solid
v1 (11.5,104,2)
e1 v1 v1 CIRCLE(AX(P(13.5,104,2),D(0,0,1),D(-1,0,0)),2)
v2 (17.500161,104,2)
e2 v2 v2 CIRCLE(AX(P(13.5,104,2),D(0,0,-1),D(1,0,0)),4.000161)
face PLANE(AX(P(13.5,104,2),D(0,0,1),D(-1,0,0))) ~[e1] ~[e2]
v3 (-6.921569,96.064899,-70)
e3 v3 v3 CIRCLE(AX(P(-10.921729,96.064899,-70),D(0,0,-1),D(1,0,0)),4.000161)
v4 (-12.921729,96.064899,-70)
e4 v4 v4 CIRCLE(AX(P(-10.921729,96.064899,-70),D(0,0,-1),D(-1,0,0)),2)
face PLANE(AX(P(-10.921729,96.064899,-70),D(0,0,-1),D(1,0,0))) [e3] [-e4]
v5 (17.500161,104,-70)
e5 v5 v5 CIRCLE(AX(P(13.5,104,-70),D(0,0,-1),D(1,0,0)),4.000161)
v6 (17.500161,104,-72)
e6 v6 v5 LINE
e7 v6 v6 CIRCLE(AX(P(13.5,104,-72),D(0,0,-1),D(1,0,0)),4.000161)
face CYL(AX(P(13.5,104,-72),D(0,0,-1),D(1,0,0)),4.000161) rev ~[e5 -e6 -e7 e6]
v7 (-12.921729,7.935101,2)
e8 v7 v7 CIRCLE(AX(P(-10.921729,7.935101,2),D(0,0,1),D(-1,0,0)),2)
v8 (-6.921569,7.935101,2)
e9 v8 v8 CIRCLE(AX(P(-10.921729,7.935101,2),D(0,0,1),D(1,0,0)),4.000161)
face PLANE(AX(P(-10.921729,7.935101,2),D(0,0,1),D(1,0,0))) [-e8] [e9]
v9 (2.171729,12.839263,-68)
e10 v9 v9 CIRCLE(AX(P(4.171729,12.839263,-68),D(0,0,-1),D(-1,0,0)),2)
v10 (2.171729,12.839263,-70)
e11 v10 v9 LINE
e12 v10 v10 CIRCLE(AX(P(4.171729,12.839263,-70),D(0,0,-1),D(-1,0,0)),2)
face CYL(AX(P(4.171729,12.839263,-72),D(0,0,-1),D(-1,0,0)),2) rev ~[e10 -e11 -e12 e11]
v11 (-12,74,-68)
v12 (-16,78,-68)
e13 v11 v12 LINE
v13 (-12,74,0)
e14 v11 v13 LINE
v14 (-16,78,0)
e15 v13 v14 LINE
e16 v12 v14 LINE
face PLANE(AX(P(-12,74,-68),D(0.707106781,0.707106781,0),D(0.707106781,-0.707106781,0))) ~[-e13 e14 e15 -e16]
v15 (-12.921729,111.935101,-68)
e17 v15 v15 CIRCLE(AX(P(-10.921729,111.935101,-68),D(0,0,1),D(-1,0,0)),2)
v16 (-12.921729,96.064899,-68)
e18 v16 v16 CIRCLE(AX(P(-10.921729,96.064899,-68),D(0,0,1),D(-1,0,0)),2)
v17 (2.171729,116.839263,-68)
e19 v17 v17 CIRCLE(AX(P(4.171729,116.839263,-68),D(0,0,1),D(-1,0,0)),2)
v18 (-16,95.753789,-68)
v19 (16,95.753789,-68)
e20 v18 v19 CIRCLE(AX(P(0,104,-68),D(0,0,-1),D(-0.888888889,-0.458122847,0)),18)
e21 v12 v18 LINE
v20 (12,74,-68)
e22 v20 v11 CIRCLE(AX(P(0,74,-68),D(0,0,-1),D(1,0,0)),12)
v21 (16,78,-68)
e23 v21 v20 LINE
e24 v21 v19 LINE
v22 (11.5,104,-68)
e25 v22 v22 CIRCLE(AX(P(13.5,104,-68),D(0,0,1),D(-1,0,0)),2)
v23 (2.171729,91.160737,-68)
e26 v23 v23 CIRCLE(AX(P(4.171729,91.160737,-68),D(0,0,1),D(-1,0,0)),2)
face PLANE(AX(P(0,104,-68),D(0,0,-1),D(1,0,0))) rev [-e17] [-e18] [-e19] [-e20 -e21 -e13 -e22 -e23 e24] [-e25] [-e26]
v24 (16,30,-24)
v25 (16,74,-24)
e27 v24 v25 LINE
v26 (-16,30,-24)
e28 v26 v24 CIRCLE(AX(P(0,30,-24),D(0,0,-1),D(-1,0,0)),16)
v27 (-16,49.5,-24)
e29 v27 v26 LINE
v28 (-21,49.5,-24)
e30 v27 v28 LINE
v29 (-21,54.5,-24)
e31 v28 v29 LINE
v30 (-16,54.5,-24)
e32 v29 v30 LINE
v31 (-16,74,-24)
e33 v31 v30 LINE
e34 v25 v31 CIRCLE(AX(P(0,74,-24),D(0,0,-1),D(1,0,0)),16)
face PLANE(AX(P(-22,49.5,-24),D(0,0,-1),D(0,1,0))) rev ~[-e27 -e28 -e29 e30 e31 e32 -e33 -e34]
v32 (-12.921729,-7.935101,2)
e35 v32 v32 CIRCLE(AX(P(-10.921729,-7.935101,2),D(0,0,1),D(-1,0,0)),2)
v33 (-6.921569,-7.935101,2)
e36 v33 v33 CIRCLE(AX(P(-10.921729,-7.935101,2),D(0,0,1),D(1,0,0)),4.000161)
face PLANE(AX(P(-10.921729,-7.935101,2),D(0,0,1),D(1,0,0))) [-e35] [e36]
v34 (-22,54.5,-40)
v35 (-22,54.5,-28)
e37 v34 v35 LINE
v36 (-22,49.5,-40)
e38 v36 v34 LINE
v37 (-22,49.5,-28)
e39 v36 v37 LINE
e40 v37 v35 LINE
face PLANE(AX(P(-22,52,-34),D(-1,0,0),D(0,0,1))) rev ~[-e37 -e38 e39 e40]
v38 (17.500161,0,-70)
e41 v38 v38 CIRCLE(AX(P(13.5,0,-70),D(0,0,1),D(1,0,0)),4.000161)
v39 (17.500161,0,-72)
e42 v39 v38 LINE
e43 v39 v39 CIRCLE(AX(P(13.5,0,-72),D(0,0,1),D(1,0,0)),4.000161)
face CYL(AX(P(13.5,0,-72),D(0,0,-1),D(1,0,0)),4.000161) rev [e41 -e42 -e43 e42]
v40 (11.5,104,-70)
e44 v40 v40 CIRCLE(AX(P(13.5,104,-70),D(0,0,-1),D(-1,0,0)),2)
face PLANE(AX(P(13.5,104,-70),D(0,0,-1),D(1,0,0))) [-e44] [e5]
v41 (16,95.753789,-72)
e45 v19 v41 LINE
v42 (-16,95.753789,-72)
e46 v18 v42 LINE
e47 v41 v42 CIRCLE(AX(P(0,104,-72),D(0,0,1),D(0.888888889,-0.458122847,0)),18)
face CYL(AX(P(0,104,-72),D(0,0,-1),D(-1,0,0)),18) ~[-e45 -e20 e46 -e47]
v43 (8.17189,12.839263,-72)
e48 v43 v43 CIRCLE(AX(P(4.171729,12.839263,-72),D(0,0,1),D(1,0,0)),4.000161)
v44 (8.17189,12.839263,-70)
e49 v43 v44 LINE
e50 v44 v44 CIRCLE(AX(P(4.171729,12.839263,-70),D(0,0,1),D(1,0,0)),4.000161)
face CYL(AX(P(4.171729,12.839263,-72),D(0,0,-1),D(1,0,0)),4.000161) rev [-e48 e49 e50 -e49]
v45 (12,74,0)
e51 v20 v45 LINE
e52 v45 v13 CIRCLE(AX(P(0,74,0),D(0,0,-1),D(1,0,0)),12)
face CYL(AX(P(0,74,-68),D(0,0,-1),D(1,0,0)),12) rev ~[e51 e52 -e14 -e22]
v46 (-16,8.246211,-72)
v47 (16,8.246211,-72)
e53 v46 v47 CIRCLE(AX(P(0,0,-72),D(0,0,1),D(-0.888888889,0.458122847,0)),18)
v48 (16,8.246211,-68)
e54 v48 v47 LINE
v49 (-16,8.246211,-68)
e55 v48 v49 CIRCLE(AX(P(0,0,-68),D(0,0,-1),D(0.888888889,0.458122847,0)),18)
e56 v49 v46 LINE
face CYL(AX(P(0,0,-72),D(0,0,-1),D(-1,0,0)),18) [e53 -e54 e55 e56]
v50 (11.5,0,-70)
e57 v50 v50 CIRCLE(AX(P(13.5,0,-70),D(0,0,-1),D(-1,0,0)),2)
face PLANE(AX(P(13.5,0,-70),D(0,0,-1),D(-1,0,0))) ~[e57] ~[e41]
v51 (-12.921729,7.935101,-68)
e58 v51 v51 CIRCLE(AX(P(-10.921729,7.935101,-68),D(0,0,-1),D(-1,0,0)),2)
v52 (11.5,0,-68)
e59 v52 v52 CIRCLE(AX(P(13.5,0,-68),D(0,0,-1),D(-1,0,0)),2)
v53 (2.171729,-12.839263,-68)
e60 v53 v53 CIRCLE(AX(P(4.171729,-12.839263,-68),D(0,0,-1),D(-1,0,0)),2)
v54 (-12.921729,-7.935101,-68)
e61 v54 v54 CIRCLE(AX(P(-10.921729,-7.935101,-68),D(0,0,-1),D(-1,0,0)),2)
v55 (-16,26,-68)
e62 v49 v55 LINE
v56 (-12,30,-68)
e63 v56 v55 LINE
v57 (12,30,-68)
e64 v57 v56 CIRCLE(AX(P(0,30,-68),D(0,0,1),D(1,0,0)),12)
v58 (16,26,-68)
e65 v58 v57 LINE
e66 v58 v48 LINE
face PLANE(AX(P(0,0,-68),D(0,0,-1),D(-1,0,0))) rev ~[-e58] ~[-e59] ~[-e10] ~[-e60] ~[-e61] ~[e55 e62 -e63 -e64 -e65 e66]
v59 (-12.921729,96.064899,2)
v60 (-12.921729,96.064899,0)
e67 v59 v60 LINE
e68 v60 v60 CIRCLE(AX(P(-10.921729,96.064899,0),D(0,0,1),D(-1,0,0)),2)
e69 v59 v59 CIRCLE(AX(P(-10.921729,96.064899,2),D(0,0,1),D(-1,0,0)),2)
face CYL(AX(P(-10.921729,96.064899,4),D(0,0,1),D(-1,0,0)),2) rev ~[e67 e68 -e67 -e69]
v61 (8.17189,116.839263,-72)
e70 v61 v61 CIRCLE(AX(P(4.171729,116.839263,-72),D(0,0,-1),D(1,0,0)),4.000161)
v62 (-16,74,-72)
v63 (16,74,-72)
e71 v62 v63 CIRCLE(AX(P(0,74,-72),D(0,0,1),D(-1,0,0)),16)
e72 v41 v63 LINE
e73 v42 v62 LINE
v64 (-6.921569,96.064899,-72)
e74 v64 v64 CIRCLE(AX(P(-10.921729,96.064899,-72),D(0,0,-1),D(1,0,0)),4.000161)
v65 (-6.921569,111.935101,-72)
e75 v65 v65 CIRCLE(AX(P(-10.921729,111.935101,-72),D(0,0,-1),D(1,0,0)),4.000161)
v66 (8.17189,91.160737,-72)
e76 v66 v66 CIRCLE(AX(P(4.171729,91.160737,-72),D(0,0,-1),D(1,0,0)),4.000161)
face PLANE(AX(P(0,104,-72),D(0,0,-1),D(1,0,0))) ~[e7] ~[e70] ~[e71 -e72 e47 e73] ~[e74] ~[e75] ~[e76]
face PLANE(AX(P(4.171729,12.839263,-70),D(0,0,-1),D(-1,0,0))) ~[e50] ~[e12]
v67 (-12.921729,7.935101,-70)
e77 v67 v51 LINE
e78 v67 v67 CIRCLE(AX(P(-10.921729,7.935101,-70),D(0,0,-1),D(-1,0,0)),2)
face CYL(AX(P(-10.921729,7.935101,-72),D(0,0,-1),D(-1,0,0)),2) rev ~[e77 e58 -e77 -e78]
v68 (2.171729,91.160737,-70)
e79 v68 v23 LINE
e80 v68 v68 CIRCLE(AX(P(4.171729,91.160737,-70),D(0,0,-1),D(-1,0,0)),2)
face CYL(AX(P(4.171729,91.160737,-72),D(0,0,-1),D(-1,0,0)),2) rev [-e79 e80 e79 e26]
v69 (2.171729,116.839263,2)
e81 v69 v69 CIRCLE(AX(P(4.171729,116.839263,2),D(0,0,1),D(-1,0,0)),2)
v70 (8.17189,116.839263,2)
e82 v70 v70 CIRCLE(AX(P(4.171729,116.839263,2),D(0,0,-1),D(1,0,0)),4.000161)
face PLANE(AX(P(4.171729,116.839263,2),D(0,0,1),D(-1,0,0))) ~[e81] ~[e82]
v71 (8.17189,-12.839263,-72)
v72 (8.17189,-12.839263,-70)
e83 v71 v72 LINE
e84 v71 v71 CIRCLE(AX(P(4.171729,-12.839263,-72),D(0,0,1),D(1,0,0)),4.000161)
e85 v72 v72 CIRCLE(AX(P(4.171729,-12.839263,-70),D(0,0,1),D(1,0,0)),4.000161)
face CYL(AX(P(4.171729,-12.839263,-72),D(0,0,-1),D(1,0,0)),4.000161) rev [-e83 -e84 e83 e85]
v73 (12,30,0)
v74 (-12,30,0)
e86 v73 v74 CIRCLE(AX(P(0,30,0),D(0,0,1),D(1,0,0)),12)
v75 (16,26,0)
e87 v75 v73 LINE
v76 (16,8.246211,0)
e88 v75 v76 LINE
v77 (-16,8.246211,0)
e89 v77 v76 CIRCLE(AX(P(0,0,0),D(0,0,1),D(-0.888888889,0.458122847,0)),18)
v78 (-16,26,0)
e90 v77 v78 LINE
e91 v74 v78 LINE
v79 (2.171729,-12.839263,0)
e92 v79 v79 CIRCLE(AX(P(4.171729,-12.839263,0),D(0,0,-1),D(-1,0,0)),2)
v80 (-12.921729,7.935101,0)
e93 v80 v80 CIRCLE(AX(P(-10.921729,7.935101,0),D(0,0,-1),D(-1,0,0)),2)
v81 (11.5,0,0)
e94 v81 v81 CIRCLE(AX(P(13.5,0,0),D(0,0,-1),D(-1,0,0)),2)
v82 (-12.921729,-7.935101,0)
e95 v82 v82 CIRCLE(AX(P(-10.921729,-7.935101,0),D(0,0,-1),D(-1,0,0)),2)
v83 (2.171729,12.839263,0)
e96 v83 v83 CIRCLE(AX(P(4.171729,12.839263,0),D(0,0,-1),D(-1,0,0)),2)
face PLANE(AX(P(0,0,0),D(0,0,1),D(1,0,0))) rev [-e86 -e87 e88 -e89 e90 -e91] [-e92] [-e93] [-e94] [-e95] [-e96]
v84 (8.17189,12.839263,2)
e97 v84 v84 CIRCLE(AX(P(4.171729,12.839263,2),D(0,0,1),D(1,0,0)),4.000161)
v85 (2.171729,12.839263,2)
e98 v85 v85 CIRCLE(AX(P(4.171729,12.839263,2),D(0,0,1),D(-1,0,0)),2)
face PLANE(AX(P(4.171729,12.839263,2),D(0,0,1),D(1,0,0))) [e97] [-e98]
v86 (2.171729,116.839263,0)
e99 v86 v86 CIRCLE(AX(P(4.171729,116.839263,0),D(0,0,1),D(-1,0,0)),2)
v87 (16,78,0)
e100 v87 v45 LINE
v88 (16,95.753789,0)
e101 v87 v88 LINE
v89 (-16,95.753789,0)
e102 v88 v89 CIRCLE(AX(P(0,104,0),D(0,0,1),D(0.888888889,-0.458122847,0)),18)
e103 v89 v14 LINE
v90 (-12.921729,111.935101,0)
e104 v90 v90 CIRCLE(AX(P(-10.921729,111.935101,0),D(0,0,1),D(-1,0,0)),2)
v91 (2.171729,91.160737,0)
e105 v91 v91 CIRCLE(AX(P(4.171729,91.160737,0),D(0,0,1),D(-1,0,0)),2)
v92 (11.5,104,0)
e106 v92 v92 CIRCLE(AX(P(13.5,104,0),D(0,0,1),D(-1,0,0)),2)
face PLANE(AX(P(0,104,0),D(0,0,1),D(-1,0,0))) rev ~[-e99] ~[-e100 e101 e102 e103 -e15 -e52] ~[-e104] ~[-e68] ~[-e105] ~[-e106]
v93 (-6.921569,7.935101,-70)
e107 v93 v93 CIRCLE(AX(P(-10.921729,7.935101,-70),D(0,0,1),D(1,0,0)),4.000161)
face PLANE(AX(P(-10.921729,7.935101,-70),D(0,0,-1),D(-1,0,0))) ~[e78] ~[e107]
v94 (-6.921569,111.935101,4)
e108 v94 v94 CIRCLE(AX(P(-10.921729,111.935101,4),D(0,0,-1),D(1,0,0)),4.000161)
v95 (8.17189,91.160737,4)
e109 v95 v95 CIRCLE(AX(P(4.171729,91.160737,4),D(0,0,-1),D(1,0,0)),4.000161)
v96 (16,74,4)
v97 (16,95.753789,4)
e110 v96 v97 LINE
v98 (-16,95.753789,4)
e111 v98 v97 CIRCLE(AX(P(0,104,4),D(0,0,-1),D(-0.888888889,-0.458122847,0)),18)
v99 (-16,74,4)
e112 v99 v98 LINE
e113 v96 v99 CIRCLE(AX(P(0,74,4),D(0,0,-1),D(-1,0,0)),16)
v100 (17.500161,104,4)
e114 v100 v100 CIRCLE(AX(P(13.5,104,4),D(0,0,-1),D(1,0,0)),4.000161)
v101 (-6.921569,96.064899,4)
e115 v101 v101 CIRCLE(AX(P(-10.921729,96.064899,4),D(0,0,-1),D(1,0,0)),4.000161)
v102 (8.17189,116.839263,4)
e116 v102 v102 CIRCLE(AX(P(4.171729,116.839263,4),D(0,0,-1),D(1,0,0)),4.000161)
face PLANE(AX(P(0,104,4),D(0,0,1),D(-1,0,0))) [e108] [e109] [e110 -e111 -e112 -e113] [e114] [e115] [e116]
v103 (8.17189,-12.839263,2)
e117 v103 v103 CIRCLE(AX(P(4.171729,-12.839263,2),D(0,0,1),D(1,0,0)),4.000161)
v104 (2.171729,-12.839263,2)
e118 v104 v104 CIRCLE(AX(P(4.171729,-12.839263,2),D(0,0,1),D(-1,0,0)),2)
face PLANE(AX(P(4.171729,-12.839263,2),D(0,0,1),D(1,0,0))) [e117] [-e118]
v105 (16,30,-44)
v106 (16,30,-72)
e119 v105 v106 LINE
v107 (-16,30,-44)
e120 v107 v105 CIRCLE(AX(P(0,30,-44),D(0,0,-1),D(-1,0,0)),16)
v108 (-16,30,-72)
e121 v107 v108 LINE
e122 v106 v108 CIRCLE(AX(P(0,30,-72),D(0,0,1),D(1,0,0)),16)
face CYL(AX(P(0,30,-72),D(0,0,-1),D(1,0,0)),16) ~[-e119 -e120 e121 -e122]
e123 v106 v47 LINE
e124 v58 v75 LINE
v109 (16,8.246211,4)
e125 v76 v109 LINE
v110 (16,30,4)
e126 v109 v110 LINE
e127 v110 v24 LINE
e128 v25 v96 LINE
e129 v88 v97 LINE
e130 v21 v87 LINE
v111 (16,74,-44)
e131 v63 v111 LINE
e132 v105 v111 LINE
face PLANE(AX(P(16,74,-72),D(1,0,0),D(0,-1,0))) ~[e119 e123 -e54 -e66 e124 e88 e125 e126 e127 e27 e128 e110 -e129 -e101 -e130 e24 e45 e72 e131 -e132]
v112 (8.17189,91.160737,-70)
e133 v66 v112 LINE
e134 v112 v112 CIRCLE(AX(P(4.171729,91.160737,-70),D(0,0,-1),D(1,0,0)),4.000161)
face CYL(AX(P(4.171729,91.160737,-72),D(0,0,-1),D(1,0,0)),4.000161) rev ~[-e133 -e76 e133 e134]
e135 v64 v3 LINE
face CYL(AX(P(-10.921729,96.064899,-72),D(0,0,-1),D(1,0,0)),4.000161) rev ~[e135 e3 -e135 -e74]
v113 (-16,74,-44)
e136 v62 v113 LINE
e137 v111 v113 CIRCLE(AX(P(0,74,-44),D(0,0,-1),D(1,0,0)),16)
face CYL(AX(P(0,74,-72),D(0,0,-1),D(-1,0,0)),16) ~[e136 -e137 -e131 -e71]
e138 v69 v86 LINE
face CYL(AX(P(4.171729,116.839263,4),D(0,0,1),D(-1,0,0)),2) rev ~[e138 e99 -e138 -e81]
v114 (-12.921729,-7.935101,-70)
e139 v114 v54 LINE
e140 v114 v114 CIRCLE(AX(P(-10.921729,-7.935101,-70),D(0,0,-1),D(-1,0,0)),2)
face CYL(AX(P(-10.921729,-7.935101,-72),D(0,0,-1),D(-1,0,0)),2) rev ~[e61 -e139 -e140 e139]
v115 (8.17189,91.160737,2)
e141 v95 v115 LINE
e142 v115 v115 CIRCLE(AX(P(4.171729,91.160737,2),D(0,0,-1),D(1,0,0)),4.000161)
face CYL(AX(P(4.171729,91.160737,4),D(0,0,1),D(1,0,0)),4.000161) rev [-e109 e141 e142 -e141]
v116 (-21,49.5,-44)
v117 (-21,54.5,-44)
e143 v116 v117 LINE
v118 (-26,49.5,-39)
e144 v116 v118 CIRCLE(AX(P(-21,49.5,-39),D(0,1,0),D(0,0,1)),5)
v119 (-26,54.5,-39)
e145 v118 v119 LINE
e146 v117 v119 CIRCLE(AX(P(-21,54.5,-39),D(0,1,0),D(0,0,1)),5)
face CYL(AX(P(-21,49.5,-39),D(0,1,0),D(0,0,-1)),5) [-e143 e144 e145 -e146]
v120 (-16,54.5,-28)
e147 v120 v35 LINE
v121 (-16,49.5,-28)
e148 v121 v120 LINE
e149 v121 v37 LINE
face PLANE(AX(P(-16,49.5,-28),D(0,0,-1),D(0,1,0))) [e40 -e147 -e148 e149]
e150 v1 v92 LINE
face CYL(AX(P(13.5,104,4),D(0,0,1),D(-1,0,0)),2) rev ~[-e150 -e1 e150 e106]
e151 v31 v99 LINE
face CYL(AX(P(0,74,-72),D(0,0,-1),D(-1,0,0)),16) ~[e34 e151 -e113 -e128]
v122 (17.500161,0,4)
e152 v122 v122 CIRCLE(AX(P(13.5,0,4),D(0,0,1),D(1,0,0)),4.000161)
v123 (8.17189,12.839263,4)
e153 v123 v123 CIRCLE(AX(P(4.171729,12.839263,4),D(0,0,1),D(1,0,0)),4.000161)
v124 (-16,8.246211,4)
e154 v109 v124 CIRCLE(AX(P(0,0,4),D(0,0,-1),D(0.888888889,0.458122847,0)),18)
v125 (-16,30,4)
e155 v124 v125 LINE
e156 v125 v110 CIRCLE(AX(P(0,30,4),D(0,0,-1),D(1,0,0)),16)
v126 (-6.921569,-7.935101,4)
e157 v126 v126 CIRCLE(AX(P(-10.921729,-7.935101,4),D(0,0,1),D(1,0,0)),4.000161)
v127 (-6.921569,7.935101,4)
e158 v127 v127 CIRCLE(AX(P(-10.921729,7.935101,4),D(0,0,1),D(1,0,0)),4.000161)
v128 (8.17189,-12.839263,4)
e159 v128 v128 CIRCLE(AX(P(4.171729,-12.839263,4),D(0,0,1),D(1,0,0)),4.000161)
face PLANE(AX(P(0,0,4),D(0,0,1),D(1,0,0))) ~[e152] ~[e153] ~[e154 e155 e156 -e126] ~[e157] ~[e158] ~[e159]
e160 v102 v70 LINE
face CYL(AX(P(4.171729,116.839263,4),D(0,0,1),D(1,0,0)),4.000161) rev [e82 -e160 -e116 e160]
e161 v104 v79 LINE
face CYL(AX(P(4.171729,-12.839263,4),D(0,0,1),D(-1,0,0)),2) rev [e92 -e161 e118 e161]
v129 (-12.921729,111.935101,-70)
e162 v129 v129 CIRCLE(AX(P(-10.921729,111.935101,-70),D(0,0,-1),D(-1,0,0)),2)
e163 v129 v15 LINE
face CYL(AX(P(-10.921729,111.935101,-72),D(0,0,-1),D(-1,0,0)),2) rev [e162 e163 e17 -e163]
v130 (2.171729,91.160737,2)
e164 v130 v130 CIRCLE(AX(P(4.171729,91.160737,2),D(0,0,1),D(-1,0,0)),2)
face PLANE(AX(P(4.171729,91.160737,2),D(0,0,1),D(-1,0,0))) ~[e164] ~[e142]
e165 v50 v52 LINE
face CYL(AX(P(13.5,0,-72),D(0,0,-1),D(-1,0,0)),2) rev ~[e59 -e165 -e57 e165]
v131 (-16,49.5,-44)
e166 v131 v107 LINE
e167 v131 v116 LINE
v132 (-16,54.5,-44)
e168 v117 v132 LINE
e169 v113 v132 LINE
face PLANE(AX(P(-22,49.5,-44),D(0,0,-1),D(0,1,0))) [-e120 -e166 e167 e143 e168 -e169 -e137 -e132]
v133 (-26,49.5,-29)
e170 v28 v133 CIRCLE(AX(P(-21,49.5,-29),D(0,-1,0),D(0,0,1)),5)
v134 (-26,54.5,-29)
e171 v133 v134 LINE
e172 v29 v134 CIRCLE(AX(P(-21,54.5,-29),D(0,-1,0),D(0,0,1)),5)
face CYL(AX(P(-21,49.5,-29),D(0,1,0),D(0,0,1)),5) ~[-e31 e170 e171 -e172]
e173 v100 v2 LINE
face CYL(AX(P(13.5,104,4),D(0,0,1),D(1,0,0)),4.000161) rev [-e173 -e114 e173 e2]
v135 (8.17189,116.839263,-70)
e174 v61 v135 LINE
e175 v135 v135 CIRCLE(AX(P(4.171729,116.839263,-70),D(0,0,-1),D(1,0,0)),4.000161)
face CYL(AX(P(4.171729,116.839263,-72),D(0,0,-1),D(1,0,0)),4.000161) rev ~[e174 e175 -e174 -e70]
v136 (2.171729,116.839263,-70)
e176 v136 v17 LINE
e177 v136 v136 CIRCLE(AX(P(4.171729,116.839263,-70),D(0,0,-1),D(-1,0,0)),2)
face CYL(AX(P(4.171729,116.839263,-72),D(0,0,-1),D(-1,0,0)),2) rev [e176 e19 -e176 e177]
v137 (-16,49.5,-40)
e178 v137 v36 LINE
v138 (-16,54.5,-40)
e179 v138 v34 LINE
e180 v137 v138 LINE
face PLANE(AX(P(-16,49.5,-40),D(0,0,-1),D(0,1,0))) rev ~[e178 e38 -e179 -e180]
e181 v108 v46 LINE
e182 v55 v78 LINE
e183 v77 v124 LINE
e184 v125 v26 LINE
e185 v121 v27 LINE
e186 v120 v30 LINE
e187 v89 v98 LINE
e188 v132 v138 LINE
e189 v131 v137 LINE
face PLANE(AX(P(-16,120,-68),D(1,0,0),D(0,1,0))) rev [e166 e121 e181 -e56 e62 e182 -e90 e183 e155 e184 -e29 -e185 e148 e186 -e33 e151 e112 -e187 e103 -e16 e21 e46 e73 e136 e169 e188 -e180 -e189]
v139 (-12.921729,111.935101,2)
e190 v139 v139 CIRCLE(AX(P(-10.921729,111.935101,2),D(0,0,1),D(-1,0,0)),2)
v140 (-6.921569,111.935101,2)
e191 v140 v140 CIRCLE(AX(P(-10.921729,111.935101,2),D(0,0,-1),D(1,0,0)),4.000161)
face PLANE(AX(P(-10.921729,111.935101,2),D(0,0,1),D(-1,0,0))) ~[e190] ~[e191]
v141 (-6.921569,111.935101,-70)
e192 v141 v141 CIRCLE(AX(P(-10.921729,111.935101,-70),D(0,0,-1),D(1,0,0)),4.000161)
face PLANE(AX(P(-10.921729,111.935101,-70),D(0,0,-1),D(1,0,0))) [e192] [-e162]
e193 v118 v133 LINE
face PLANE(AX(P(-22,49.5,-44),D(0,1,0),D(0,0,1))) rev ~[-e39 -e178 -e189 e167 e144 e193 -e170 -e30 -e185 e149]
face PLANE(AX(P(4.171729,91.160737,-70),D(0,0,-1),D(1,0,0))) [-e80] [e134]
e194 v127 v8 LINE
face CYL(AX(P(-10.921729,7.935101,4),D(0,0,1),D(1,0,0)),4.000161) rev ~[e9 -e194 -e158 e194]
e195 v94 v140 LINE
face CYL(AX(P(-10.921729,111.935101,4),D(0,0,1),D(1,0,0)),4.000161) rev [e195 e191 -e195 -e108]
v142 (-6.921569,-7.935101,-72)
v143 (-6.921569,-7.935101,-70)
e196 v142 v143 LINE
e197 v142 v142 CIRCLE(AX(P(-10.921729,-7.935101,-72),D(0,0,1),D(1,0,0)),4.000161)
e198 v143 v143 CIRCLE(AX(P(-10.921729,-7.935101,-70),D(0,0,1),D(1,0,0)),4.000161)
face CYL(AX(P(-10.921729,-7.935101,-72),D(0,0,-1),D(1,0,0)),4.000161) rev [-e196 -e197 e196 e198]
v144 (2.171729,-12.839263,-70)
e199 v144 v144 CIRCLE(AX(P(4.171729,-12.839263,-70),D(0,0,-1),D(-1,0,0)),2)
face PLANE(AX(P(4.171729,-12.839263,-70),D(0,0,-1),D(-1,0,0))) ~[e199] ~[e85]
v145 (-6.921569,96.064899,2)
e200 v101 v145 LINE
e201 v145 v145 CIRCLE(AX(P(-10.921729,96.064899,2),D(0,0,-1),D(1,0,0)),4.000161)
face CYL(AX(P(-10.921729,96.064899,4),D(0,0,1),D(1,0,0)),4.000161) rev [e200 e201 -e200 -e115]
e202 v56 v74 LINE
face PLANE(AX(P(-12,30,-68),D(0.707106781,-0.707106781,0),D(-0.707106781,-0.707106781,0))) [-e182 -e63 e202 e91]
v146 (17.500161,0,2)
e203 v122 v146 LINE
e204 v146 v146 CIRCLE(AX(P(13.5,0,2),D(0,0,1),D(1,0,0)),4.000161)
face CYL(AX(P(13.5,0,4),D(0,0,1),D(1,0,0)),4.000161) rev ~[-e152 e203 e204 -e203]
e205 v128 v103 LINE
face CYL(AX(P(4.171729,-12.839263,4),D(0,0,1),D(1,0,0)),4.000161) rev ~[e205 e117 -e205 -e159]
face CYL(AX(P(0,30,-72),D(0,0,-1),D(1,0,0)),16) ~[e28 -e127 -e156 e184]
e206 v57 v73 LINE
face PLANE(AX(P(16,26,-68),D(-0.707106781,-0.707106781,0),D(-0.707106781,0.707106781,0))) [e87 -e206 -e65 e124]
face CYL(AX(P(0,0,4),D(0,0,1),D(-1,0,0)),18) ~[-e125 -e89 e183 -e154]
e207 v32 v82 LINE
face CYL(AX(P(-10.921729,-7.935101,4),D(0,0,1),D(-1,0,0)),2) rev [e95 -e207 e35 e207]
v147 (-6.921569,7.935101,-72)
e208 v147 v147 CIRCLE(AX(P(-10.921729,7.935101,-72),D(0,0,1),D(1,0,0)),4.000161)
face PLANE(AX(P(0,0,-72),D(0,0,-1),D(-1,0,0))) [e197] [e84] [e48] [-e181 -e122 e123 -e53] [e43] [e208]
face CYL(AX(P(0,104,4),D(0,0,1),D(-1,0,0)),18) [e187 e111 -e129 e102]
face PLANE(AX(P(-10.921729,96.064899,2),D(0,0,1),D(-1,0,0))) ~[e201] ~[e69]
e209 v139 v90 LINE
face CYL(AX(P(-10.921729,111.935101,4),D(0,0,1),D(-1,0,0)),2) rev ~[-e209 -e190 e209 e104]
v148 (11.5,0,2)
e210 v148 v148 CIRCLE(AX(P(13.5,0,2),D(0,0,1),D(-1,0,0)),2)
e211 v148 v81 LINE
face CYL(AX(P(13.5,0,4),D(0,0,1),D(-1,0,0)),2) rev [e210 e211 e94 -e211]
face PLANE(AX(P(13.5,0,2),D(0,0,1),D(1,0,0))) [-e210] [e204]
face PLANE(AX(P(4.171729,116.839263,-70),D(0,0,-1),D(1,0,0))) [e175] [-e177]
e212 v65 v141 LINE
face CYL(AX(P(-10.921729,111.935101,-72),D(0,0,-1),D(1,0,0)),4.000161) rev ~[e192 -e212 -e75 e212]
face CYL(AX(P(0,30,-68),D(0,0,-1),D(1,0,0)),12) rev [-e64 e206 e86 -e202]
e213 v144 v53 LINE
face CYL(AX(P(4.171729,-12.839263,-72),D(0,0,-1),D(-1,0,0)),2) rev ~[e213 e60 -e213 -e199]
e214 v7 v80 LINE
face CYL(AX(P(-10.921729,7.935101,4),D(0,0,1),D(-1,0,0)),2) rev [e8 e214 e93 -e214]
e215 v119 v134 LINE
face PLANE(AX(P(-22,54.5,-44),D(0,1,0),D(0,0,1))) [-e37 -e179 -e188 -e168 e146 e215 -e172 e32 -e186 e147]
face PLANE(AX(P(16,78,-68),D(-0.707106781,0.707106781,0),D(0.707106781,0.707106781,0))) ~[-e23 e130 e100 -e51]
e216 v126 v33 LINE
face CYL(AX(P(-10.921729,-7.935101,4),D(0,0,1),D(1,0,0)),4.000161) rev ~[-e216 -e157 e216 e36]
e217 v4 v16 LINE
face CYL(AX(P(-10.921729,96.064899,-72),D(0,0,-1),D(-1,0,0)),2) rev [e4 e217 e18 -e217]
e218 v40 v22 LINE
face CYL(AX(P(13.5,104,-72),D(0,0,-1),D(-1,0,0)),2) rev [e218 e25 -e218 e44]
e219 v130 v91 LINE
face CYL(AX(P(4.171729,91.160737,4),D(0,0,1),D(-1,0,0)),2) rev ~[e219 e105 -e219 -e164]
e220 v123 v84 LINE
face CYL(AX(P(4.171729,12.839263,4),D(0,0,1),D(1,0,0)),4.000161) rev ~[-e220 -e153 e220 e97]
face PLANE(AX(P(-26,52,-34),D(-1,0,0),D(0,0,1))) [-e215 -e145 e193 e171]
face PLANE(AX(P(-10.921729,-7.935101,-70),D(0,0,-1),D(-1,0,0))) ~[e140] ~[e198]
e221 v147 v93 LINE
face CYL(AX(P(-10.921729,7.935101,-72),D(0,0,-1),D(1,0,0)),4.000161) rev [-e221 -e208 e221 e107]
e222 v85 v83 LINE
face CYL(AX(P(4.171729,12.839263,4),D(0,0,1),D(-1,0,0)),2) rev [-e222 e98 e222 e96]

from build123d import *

# Parameters (mm, degrees)
BOSS_EXTRUDE2_DEPTH       = 4
BOSS_EXTRUDE3_START       = 68
BOSS_EXTRUDE3_DEPTH       = 68
BOSS_EXTRUDE4_START       = 4
BOSS_EXTRUDE4_DEPTH       = 4
BOSS_EXTRUDE5_START       = -4
BOSS_EXTRUDE5_DEPTH       = 4
CUT_EXTRUDE1_REACH        = 144.941
CUT_EXTRUDE2_DEPTH        = 143.940547082
BOSS_EXTRUDE7_DEPTH       = 10
BOSS_EXTRUDE7_DEPTH_BACK  = 10
SKETCH10_R                = 2
CUT_EXTRUDE3_DEPTH        = 4
SKETCH11_R                = 18
SKETCH11_R_2              = 16
BOSS_EXTRUDE8_DEPTH       = 4
MIRROR6_COPY_1_SKETCH_R   = 2
MIRROR6_COPY_1_DEPTH      = 4
MIRROR6_COPY_2_SKETCH_R   = 18
MIRROR6_COPY_2_SKETCH_R_2 = 16
MIRROR6_COPY_2_DEPTH      = 4
SKETCH12_R                = 4.000160783
SKETCH12_R_2              = 2
CUT_EXTRUDE5_DEPTH        = 2
MIRROR8_COPY_1_SKETCH_R   = 4.000160783
MIRROR8_COPY_1_SKETCH_R_2 = 2
MIRROR8_COPY_1_DEPTH      = 2
SKETCH13_W                = 4
SKETCH13_H                = 5
BOSS_EXTRUDE9_DEPTH       = 6
SKETCH14_W                = 20
SKETCH14_H                = 5
BOSS_EXTRUDE10_DEPTH      = 4
FILLET1_R                 = 5


with BuildPart() as part:
    # Sketch2 → Boss-Extrude2 (new body)
    with BuildSketch(Plane.XY):
        with BuildLine():
            Line((-16, 0), (-16, 30))
            ThreePointArc((-16, 30), (0, 46), (16, 30))
            Line((16, 30), (16, 0))
            ThreePointArc((16, 0), (0, -16), (-16, 0))
        make_face()
    extrude(amount=BOSS_EXTRUDE2_DEPTH)

    # Sketch3 → Boss-Extrude3 (add)
    with BuildSketch(Plane(origin=(0, 0, 0), x_dir=(-1, 0, 0), z_dir=(0, 0, -1)).offset(BOSS_EXTRUDE3_START)):
        with BuildLine():
            Line((-16, 30), (-16, 26))
            Line((-16, 26), (-12, 30))
            ThreePointArc((-12, 30), (0, 42), (12, 30))
            Line((12, 30), (16, 26))
            Line((16, 26), (16, 30))
            ThreePointArc((16, 30), (0, 46), (-16, 30))
        make_face()
    boss_extrude3 = extrude(amount=-BOSS_EXTRUDE3_DEPTH)

    # Sketch4 → Boss-Extrude4 (add)
    with BuildSketch(Plane(origin=(0, 0, -68), x_dir=(-1, 0, 0), z_dir=(0, 0, -1)).offset(BOSS_EXTRUDE4_START)):
        with BuildLine():
            Line((-16, 30), (-16, 0))
            ThreePointArc((-16, 0), (0, -16), (16, 0))
            Line((16, 0), (16, 30))
            ThreePointArc((16, 30), (0, 46), (-16, 30))
        make_face()
    boss_extrude4 = extrude(amount=-BOSS_EXTRUDE4_DEPTH)

    # Sketch5 → Boss-Extrude5 (add)
    with BuildSketch(Plane.XY.offset(4).offset(BOSS_EXTRUDE5_START)):
        with BuildLine():
            Line((-16, 120), (-16, 30))
            ThreePointArc((-16, 30), (0, 46), (16, 30))
            Line((16, 30), (16, 120))
            Line((16, 120), (-16, 120))
        make_face()
    boss_extrude5 = extrude(amount=BOSS_EXTRUDE5_DEPTH)

    # Mirror3: Boss-Extrude3, Boss-Extrude4 across plane
    add(boss_extrude3.mirror(Plane(origin=(0, 52, 0), x_dir=(0, 0, 1), z_dir=(0, -1, 0))))
    add(boss_extrude4.mirror(Plane(origin=(0, 52, 0), x_dir=(0, 0, 1), z_dir=(0, -1, 0))))

    # Sketch6 → Cut-Extrude1 (cut, up to next)
    with BuildSketch(Plane.XY.offset(4), mode=Mode.PRIVATE) as cut_extrude1_sk1:
        with BuildLine():
            ThreePointArc((-16, 104), (-11.313708499, 115.313708499), (0, 120))
            Line((0, 120), (-16, 120))
            Line((-16, 120), (-16, 104))
        make_face()
    cut_extrude1_tool1 = extrude(cut_extrude1_sk1.sketch, amount=-CUT_EXTRUDE1_REACH, mode=Mode.PRIVATE) & part.part
    # Sketch6 → Cut-Extrude1 (cut, up to next)
    with BuildSketch(Plane.XY.offset(4), mode=Mode.PRIVATE) as cut_extrude1_sk2:
        with BuildLine():
            Line((16, 104), (16, 120))
            Line((16, 120), (0, 120))
            ThreePointArc((0, 120), (11.313708499, 115.313708499), (16, 104))
        make_face()
    cut_extrude1_tool2 = extrude(cut_extrude1_sk2.sketch, amount=-CUT_EXTRUDE1_REACH, mode=Mode.PRIVATE) & part.part
    cut_extrude1_1 = cut_extrude1_tool1.solids().sort_by_distance((-12.426113, 116.426113, 4))[0]
    add(cut_extrude1_1, mode=Mode.SUBTRACT)
    cut_extrude1_2 = cut_extrude1_tool2.solids().sort_by_distance((12.426113, 116.426113, 4))[0]
    add(cut_extrude1_2, mode=Mode.SUBTRACT)
    cut_extrude1 = cut_extrude1_1 + cut_extrude1_2  # Cut-Extrude1 as one shape, for the pattern or mirror that repeats it

    # Mirror4: Boss-Extrude5, Cut-Extrude1 across plane
    add(boss_extrude5.mirror(Plane.XY.offset(-34)))
    add(cut_extrude1.mirror(Plane.XY.offset(-34)), mode=Mode.SUBTRACT)

    # Sketch8 → Cut-Extrude2 (cut, through all)
    with BuildSketch(Plane(origin=(0, 0, -72), x_dir=(-1, 0, 0), z_dir=(0, 0, -1))):
        with BuildLine():
            Line((-16, 74), (-16, 30))
            ThreePointArc((-16, 30), (0, 46), (16, 30))
            Line((16, 30), (16, 74))
            ThreePointArc((16, 74), (0, 58), (-16, 74))
        make_face()
    extrude(amount=-CUT_EXTRUDE2_DEPTH, mode=Mode.SUBTRACT)


with BuildPart() as cut_extrude2_piece_1:
    # of the separate pieces the step leaves, piece 1, a body of its own (cut_extrude2_pieces)
    add(part.part.solids().sort_by_distance((16, 104, 4))[0])



with BuildPart() as cut_extrude2_piece_2:
    # of the separate pieces the step leaves, piece 2, a body of its own (cut_extrude2_pieces)
    add(part.part.solids().sort_by_distance((16, 0, 0))[0])


with BuildPart() as cut_extrude2_piece_1_1:
    add(cut_extrude2_piece_1.part)

    add(cut_extrude2_piece_2.part)  # Boss-Extrude7 merges Cut-Extrude2 piece 2
    # Sketch9 → Boss-Extrude7 (add, two sides: drawn at the far end of the back side and taken through both)
    with BuildSketch(Plane.XY.offset(-34).offset(-BOSS_EXTRUDE7_DEPTH_BACK)):
        with BuildLine():
            Line((-16, 74), (-16, 30))
            ThreePointArc((-16, 30), (0, 46), (16, 30))
            Line((16, 30), (16, 74))
            ThreePointArc((16, 74), (0, 58), (-16, 74))
        make_face()
    extrude(amount=BOSS_EXTRUDE7_DEPTH + BOSS_EXTRUDE7_DEPTH_BACK)

    # Sketch10 → Cut-Extrude3 (cut)
    with BuildSketch(Plane(origin=(0, 0, -72), x_dir=(-1, 0, 0), z_dir=(0, 0, -1))):
        with Locations((-13.5, 0)):
            Circle(SKETCH10_R)
        with Locations((-4.171729424, 12.83926297)):
            Circle(SKETCH10_R)
        with Locations((10.921729424, 7.935100906)):
            Circle(SKETCH10_R)
        with Locations((10.921729424, -7.935100906)):
            Circle(SKETCH10_R)
        with Locations((-4.171729424, -12.83926297)):
            Circle(SKETCH10_R)
    cut_extrude3 = extrude(amount=-CUT_EXTRUDE3_DEPTH, mode=Mode.SUBTRACT)

    # Sketch11 → Boss-Extrude8 (add)
    with BuildSketch(Plane(origin=(0, 0, -72), x_dir=(-1, 0, 0), z_dir=(0, 0, -1))):
        Circle(SKETCH11_R)
        Circle(SKETCH11_R_2, mode=Mode.SUBTRACT)
    boss_extrude8 = extrude(amount=-BOSS_EXTRUDE8_DEPTH)

    # Mirror5: Cut-Extrude3, Boss-Extrude8 across plane
    add(cut_extrude3.mirror(Plane.XY.offset(-34)), mode=Mode.SUBTRACT)
    add(boss_extrude8.mirror(Plane.XY.offset(-34)))

    # Mirror6: Cut-Extrude3, Boss-Extrude8 across plane
    add(cut_extrude3.mirror(Plane(origin=(0, 52, 0), x_dir=(0, 0, 1), z_dir=(0, -1, 0))), mode=Mode.SUBTRACT)
    add(boss_extrude8.mirror(Plane(origin=(0, 52, 0), x_dir=(0, 0, 1), z_dir=(0, -1, 0))))

    # Mirror6 copy 1 sketch → Mirror6 copy 1 (cut)
    with BuildSketch(Plane(origin=(0, 104, 4), x_dir=(-1, 0, 0), z_dir=(0, 0, 1))):
        with Locations((-13.5, 0)):
            Circle(MIRROR6_COPY_1_SKETCH_R)
        with Locations((-4.171729424, 12.83926297)):
            Circle(MIRROR6_COPY_1_SKETCH_R)
        with Locations((10.921729424, 7.935100906)):
            Circle(MIRROR6_COPY_1_SKETCH_R)
        with Locations((10.921729424, -7.935100906)):
            Circle(MIRROR6_COPY_1_SKETCH_R)
        with Locations((-4.171729424, -12.83926297)):
            Circle(MIRROR6_COPY_1_SKETCH_R)
    extrude(amount=-MIRROR6_COPY_1_DEPTH, mode=Mode.SUBTRACT)

    # Mirror6 copy 2 sketch → Mirror6 copy 2 (add)
    with BuildSketch(Plane(origin=(0, 104, 4), x_dir=(-1, 0, 0), z_dir=(0, 0, 1))):
        Circle(MIRROR6_COPY_2_SKETCH_R)
        Circle(MIRROR6_COPY_2_SKETCH_R_2, mode=Mode.SUBTRACT)
    extrude(amount=-MIRROR6_COPY_2_DEPTH)

    # Sketch12 → Cut-Extrude5 (cut)
    # profile 1 of 5: a face of its own
    with BuildSketch(Plane.XY.offset(4)):
        with Locations((-10.921729424, 7.935100906)):
            Circle(SKETCH12_R)
        with Locations((-10.921729424, 7.935100906)):
            Circle(SKETCH12_R_2, mode=Mode.SUBTRACT)
    # profile 2 of 5: a face of its own
    with BuildSketch(Plane.XY.offset(4)):
        with Locations((4.171729424, 12.83926297)):
            Circle(SKETCH12_R)
        with Locations((4.171729424, 12.83926297)):
            Circle(SKETCH12_R_2, mode=Mode.SUBTRACT)
    # profile 3 of 5: a face of its own
    with BuildSketch(Plane.XY.offset(4)):
        with Locations((13.5, 0)):
            Circle(SKETCH12_R)
        with Locations((13.5, 0)):
            Circle(SKETCH12_R_2, mode=Mode.SUBTRACT)
    # profile 4 of 5: a face of its own
    with BuildSketch(Plane.XY.offset(4)):
        with Locations((4.171729424, -12.83926297)):
            Circle(SKETCH12_R)
        with Locations((4.171729424, -12.83926297)):
            Circle(SKETCH12_R_2, mode=Mode.SUBTRACT)
    # profile 5 of 5: a face of its own
    with BuildSketch(Plane.XY.offset(4)):
        with Locations((-10.921729424, -7.935100906)):
            Circle(SKETCH12_R)
        with Locations((-10.921729424, -7.935100906)):
            Circle(SKETCH12_R_2, mode=Mode.SUBTRACT)
    cut_extrude5 = extrude(amount=-CUT_EXTRUDE5_DEPTH, mode=Mode.SUBTRACT)

    # Mirror7: Cut-Extrude5 across plane
    add(cut_extrude5.mirror(Plane.XY.offset(-34)), mode=Mode.SUBTRACT)

    # Mirror8: Cut-Extrude5 across plane
    add(cut_extrude5.mirror(Plane(origin=(0, 52, 0), x_dir=(0, 0, 1), z_dir=(0, -1, 0))), mode=Mode.SUBTRACT)

    # Mirror8 copy 1 sketch → Mirror8 copy 1 (cut)
    # profile 1 of 5: a face of its own
    with BuildSketch(Plane(origin=(0, 104, -72), x_dir=(1, 0, 0), z_dir=(0, 0, -1))):
        with Locations((-10.921729424, 7.935100906)):
            Circle(MIRROR8_COPY_1_SKETCH_R)
        with Locations((-10.921729424, 7.935100906)):
            Circle(MIRROR8_COPY_1_SKETCH_R_2, mode=Mode.SUBTRACT)
    # profile 2 of 5: a face of its own
    with BuildSketch(Plane(origin=(0, 104, -72), x_dir=(1, 0, 0), z_dir=(0, 0, -1))):
        with Locations((4.171729424, 12.83926297)):
            Circle(MIRROR8_COPY_1_SKETCH_R)
        with Locations((4.171729424, 12.83926297)):
            Circle(MIRROR8_COPY_1_SKETCH_R_2, mode=Mode.SUBTRACT)
    # profile 3 of 5: a face of its own
    with BuildSketch(Plane(origin=(0, 104, -72), x_dir=(1, 0, 0), z_dir=(0, 0, -1))):
        with Locations((13.5, 0)):
            Circle(MIRROR8_COPY_1_SKETCH_R)
        with Locations((13.5, 0)):
            Circle(MIRROR8_COPY_1_SKETCH_R_2, mode=Mode.SUBTRACT)
    # profile 4 of 5: a face of its own
    with BuildSketch(Plane(origin=(0, 104, -72), x_dir=(1, 0, 0), z_dir=(0, 0, -1))):
        with Locations((4.171729424, -12.83926297)):
            Circle(MIRROR8_COPY_1_SKETCH_R)
        with Locations((4.171729424, -12.83926297)):
            Circle(MIRROR8_COPY_1_SKETCH_R_2, mode=Mode.SUBTRACT)
    # profile 5 of 5: a face of its own
    with BuildSketch(Plane(origin=(0, 104, -72), x_dir=(1, 0, 0), z_dir=(0, 0, -1))):
        with Locations((-10.921729424, -7.935100906)):
            Circle(MIRROR8_COPY_1_SKETCH_R)
        with Locations((-10.921729424, -7.935100906)):
            Circle(MIRROR8_COPY_1_SKETCH_R_2, mode=Mode.SUBTRACT)
    extrude(amount=-MIRROR8_COPY_1_DEPTH, mode=Mode.SUBTRACT)

    # Sketch13 → Boss-Extrude9 (add)
    with BuildSketch(Plane.ZY.offset(16)):
        with Locations((-42, 52)):
            Rectangle(SKETCH13_W, SKETCH13_H)
        with Locations((-26, 52)):
            Rectangle(SKETCH13_W, SKETCH13_H)
    extrude(amount=BOSS_EXTRUDE9_DEPTH)

    # Sketch14 → Boss-Extrude10 (add)
    with BuildSketch(Plane.ZY.offset(22)):
        with Locations((-34, 52)):
            Rectangle(SKETCH14_W, SKETCH14_H)
    extrude(amount=BOSS_EXTRUDE10_DEPTH)

    # Fillet1
    fillet1_edges = [cut_extrude2_piece_1_1.edges().sort_by_distance(p)[0] for p in [
        (-26, 52, -44),
        (-26, 52, -24),
    ]]
    fillet(fillet1_edges, radius=FILLET1_R)


solid = cut_extrude2_piece_1_1.part
